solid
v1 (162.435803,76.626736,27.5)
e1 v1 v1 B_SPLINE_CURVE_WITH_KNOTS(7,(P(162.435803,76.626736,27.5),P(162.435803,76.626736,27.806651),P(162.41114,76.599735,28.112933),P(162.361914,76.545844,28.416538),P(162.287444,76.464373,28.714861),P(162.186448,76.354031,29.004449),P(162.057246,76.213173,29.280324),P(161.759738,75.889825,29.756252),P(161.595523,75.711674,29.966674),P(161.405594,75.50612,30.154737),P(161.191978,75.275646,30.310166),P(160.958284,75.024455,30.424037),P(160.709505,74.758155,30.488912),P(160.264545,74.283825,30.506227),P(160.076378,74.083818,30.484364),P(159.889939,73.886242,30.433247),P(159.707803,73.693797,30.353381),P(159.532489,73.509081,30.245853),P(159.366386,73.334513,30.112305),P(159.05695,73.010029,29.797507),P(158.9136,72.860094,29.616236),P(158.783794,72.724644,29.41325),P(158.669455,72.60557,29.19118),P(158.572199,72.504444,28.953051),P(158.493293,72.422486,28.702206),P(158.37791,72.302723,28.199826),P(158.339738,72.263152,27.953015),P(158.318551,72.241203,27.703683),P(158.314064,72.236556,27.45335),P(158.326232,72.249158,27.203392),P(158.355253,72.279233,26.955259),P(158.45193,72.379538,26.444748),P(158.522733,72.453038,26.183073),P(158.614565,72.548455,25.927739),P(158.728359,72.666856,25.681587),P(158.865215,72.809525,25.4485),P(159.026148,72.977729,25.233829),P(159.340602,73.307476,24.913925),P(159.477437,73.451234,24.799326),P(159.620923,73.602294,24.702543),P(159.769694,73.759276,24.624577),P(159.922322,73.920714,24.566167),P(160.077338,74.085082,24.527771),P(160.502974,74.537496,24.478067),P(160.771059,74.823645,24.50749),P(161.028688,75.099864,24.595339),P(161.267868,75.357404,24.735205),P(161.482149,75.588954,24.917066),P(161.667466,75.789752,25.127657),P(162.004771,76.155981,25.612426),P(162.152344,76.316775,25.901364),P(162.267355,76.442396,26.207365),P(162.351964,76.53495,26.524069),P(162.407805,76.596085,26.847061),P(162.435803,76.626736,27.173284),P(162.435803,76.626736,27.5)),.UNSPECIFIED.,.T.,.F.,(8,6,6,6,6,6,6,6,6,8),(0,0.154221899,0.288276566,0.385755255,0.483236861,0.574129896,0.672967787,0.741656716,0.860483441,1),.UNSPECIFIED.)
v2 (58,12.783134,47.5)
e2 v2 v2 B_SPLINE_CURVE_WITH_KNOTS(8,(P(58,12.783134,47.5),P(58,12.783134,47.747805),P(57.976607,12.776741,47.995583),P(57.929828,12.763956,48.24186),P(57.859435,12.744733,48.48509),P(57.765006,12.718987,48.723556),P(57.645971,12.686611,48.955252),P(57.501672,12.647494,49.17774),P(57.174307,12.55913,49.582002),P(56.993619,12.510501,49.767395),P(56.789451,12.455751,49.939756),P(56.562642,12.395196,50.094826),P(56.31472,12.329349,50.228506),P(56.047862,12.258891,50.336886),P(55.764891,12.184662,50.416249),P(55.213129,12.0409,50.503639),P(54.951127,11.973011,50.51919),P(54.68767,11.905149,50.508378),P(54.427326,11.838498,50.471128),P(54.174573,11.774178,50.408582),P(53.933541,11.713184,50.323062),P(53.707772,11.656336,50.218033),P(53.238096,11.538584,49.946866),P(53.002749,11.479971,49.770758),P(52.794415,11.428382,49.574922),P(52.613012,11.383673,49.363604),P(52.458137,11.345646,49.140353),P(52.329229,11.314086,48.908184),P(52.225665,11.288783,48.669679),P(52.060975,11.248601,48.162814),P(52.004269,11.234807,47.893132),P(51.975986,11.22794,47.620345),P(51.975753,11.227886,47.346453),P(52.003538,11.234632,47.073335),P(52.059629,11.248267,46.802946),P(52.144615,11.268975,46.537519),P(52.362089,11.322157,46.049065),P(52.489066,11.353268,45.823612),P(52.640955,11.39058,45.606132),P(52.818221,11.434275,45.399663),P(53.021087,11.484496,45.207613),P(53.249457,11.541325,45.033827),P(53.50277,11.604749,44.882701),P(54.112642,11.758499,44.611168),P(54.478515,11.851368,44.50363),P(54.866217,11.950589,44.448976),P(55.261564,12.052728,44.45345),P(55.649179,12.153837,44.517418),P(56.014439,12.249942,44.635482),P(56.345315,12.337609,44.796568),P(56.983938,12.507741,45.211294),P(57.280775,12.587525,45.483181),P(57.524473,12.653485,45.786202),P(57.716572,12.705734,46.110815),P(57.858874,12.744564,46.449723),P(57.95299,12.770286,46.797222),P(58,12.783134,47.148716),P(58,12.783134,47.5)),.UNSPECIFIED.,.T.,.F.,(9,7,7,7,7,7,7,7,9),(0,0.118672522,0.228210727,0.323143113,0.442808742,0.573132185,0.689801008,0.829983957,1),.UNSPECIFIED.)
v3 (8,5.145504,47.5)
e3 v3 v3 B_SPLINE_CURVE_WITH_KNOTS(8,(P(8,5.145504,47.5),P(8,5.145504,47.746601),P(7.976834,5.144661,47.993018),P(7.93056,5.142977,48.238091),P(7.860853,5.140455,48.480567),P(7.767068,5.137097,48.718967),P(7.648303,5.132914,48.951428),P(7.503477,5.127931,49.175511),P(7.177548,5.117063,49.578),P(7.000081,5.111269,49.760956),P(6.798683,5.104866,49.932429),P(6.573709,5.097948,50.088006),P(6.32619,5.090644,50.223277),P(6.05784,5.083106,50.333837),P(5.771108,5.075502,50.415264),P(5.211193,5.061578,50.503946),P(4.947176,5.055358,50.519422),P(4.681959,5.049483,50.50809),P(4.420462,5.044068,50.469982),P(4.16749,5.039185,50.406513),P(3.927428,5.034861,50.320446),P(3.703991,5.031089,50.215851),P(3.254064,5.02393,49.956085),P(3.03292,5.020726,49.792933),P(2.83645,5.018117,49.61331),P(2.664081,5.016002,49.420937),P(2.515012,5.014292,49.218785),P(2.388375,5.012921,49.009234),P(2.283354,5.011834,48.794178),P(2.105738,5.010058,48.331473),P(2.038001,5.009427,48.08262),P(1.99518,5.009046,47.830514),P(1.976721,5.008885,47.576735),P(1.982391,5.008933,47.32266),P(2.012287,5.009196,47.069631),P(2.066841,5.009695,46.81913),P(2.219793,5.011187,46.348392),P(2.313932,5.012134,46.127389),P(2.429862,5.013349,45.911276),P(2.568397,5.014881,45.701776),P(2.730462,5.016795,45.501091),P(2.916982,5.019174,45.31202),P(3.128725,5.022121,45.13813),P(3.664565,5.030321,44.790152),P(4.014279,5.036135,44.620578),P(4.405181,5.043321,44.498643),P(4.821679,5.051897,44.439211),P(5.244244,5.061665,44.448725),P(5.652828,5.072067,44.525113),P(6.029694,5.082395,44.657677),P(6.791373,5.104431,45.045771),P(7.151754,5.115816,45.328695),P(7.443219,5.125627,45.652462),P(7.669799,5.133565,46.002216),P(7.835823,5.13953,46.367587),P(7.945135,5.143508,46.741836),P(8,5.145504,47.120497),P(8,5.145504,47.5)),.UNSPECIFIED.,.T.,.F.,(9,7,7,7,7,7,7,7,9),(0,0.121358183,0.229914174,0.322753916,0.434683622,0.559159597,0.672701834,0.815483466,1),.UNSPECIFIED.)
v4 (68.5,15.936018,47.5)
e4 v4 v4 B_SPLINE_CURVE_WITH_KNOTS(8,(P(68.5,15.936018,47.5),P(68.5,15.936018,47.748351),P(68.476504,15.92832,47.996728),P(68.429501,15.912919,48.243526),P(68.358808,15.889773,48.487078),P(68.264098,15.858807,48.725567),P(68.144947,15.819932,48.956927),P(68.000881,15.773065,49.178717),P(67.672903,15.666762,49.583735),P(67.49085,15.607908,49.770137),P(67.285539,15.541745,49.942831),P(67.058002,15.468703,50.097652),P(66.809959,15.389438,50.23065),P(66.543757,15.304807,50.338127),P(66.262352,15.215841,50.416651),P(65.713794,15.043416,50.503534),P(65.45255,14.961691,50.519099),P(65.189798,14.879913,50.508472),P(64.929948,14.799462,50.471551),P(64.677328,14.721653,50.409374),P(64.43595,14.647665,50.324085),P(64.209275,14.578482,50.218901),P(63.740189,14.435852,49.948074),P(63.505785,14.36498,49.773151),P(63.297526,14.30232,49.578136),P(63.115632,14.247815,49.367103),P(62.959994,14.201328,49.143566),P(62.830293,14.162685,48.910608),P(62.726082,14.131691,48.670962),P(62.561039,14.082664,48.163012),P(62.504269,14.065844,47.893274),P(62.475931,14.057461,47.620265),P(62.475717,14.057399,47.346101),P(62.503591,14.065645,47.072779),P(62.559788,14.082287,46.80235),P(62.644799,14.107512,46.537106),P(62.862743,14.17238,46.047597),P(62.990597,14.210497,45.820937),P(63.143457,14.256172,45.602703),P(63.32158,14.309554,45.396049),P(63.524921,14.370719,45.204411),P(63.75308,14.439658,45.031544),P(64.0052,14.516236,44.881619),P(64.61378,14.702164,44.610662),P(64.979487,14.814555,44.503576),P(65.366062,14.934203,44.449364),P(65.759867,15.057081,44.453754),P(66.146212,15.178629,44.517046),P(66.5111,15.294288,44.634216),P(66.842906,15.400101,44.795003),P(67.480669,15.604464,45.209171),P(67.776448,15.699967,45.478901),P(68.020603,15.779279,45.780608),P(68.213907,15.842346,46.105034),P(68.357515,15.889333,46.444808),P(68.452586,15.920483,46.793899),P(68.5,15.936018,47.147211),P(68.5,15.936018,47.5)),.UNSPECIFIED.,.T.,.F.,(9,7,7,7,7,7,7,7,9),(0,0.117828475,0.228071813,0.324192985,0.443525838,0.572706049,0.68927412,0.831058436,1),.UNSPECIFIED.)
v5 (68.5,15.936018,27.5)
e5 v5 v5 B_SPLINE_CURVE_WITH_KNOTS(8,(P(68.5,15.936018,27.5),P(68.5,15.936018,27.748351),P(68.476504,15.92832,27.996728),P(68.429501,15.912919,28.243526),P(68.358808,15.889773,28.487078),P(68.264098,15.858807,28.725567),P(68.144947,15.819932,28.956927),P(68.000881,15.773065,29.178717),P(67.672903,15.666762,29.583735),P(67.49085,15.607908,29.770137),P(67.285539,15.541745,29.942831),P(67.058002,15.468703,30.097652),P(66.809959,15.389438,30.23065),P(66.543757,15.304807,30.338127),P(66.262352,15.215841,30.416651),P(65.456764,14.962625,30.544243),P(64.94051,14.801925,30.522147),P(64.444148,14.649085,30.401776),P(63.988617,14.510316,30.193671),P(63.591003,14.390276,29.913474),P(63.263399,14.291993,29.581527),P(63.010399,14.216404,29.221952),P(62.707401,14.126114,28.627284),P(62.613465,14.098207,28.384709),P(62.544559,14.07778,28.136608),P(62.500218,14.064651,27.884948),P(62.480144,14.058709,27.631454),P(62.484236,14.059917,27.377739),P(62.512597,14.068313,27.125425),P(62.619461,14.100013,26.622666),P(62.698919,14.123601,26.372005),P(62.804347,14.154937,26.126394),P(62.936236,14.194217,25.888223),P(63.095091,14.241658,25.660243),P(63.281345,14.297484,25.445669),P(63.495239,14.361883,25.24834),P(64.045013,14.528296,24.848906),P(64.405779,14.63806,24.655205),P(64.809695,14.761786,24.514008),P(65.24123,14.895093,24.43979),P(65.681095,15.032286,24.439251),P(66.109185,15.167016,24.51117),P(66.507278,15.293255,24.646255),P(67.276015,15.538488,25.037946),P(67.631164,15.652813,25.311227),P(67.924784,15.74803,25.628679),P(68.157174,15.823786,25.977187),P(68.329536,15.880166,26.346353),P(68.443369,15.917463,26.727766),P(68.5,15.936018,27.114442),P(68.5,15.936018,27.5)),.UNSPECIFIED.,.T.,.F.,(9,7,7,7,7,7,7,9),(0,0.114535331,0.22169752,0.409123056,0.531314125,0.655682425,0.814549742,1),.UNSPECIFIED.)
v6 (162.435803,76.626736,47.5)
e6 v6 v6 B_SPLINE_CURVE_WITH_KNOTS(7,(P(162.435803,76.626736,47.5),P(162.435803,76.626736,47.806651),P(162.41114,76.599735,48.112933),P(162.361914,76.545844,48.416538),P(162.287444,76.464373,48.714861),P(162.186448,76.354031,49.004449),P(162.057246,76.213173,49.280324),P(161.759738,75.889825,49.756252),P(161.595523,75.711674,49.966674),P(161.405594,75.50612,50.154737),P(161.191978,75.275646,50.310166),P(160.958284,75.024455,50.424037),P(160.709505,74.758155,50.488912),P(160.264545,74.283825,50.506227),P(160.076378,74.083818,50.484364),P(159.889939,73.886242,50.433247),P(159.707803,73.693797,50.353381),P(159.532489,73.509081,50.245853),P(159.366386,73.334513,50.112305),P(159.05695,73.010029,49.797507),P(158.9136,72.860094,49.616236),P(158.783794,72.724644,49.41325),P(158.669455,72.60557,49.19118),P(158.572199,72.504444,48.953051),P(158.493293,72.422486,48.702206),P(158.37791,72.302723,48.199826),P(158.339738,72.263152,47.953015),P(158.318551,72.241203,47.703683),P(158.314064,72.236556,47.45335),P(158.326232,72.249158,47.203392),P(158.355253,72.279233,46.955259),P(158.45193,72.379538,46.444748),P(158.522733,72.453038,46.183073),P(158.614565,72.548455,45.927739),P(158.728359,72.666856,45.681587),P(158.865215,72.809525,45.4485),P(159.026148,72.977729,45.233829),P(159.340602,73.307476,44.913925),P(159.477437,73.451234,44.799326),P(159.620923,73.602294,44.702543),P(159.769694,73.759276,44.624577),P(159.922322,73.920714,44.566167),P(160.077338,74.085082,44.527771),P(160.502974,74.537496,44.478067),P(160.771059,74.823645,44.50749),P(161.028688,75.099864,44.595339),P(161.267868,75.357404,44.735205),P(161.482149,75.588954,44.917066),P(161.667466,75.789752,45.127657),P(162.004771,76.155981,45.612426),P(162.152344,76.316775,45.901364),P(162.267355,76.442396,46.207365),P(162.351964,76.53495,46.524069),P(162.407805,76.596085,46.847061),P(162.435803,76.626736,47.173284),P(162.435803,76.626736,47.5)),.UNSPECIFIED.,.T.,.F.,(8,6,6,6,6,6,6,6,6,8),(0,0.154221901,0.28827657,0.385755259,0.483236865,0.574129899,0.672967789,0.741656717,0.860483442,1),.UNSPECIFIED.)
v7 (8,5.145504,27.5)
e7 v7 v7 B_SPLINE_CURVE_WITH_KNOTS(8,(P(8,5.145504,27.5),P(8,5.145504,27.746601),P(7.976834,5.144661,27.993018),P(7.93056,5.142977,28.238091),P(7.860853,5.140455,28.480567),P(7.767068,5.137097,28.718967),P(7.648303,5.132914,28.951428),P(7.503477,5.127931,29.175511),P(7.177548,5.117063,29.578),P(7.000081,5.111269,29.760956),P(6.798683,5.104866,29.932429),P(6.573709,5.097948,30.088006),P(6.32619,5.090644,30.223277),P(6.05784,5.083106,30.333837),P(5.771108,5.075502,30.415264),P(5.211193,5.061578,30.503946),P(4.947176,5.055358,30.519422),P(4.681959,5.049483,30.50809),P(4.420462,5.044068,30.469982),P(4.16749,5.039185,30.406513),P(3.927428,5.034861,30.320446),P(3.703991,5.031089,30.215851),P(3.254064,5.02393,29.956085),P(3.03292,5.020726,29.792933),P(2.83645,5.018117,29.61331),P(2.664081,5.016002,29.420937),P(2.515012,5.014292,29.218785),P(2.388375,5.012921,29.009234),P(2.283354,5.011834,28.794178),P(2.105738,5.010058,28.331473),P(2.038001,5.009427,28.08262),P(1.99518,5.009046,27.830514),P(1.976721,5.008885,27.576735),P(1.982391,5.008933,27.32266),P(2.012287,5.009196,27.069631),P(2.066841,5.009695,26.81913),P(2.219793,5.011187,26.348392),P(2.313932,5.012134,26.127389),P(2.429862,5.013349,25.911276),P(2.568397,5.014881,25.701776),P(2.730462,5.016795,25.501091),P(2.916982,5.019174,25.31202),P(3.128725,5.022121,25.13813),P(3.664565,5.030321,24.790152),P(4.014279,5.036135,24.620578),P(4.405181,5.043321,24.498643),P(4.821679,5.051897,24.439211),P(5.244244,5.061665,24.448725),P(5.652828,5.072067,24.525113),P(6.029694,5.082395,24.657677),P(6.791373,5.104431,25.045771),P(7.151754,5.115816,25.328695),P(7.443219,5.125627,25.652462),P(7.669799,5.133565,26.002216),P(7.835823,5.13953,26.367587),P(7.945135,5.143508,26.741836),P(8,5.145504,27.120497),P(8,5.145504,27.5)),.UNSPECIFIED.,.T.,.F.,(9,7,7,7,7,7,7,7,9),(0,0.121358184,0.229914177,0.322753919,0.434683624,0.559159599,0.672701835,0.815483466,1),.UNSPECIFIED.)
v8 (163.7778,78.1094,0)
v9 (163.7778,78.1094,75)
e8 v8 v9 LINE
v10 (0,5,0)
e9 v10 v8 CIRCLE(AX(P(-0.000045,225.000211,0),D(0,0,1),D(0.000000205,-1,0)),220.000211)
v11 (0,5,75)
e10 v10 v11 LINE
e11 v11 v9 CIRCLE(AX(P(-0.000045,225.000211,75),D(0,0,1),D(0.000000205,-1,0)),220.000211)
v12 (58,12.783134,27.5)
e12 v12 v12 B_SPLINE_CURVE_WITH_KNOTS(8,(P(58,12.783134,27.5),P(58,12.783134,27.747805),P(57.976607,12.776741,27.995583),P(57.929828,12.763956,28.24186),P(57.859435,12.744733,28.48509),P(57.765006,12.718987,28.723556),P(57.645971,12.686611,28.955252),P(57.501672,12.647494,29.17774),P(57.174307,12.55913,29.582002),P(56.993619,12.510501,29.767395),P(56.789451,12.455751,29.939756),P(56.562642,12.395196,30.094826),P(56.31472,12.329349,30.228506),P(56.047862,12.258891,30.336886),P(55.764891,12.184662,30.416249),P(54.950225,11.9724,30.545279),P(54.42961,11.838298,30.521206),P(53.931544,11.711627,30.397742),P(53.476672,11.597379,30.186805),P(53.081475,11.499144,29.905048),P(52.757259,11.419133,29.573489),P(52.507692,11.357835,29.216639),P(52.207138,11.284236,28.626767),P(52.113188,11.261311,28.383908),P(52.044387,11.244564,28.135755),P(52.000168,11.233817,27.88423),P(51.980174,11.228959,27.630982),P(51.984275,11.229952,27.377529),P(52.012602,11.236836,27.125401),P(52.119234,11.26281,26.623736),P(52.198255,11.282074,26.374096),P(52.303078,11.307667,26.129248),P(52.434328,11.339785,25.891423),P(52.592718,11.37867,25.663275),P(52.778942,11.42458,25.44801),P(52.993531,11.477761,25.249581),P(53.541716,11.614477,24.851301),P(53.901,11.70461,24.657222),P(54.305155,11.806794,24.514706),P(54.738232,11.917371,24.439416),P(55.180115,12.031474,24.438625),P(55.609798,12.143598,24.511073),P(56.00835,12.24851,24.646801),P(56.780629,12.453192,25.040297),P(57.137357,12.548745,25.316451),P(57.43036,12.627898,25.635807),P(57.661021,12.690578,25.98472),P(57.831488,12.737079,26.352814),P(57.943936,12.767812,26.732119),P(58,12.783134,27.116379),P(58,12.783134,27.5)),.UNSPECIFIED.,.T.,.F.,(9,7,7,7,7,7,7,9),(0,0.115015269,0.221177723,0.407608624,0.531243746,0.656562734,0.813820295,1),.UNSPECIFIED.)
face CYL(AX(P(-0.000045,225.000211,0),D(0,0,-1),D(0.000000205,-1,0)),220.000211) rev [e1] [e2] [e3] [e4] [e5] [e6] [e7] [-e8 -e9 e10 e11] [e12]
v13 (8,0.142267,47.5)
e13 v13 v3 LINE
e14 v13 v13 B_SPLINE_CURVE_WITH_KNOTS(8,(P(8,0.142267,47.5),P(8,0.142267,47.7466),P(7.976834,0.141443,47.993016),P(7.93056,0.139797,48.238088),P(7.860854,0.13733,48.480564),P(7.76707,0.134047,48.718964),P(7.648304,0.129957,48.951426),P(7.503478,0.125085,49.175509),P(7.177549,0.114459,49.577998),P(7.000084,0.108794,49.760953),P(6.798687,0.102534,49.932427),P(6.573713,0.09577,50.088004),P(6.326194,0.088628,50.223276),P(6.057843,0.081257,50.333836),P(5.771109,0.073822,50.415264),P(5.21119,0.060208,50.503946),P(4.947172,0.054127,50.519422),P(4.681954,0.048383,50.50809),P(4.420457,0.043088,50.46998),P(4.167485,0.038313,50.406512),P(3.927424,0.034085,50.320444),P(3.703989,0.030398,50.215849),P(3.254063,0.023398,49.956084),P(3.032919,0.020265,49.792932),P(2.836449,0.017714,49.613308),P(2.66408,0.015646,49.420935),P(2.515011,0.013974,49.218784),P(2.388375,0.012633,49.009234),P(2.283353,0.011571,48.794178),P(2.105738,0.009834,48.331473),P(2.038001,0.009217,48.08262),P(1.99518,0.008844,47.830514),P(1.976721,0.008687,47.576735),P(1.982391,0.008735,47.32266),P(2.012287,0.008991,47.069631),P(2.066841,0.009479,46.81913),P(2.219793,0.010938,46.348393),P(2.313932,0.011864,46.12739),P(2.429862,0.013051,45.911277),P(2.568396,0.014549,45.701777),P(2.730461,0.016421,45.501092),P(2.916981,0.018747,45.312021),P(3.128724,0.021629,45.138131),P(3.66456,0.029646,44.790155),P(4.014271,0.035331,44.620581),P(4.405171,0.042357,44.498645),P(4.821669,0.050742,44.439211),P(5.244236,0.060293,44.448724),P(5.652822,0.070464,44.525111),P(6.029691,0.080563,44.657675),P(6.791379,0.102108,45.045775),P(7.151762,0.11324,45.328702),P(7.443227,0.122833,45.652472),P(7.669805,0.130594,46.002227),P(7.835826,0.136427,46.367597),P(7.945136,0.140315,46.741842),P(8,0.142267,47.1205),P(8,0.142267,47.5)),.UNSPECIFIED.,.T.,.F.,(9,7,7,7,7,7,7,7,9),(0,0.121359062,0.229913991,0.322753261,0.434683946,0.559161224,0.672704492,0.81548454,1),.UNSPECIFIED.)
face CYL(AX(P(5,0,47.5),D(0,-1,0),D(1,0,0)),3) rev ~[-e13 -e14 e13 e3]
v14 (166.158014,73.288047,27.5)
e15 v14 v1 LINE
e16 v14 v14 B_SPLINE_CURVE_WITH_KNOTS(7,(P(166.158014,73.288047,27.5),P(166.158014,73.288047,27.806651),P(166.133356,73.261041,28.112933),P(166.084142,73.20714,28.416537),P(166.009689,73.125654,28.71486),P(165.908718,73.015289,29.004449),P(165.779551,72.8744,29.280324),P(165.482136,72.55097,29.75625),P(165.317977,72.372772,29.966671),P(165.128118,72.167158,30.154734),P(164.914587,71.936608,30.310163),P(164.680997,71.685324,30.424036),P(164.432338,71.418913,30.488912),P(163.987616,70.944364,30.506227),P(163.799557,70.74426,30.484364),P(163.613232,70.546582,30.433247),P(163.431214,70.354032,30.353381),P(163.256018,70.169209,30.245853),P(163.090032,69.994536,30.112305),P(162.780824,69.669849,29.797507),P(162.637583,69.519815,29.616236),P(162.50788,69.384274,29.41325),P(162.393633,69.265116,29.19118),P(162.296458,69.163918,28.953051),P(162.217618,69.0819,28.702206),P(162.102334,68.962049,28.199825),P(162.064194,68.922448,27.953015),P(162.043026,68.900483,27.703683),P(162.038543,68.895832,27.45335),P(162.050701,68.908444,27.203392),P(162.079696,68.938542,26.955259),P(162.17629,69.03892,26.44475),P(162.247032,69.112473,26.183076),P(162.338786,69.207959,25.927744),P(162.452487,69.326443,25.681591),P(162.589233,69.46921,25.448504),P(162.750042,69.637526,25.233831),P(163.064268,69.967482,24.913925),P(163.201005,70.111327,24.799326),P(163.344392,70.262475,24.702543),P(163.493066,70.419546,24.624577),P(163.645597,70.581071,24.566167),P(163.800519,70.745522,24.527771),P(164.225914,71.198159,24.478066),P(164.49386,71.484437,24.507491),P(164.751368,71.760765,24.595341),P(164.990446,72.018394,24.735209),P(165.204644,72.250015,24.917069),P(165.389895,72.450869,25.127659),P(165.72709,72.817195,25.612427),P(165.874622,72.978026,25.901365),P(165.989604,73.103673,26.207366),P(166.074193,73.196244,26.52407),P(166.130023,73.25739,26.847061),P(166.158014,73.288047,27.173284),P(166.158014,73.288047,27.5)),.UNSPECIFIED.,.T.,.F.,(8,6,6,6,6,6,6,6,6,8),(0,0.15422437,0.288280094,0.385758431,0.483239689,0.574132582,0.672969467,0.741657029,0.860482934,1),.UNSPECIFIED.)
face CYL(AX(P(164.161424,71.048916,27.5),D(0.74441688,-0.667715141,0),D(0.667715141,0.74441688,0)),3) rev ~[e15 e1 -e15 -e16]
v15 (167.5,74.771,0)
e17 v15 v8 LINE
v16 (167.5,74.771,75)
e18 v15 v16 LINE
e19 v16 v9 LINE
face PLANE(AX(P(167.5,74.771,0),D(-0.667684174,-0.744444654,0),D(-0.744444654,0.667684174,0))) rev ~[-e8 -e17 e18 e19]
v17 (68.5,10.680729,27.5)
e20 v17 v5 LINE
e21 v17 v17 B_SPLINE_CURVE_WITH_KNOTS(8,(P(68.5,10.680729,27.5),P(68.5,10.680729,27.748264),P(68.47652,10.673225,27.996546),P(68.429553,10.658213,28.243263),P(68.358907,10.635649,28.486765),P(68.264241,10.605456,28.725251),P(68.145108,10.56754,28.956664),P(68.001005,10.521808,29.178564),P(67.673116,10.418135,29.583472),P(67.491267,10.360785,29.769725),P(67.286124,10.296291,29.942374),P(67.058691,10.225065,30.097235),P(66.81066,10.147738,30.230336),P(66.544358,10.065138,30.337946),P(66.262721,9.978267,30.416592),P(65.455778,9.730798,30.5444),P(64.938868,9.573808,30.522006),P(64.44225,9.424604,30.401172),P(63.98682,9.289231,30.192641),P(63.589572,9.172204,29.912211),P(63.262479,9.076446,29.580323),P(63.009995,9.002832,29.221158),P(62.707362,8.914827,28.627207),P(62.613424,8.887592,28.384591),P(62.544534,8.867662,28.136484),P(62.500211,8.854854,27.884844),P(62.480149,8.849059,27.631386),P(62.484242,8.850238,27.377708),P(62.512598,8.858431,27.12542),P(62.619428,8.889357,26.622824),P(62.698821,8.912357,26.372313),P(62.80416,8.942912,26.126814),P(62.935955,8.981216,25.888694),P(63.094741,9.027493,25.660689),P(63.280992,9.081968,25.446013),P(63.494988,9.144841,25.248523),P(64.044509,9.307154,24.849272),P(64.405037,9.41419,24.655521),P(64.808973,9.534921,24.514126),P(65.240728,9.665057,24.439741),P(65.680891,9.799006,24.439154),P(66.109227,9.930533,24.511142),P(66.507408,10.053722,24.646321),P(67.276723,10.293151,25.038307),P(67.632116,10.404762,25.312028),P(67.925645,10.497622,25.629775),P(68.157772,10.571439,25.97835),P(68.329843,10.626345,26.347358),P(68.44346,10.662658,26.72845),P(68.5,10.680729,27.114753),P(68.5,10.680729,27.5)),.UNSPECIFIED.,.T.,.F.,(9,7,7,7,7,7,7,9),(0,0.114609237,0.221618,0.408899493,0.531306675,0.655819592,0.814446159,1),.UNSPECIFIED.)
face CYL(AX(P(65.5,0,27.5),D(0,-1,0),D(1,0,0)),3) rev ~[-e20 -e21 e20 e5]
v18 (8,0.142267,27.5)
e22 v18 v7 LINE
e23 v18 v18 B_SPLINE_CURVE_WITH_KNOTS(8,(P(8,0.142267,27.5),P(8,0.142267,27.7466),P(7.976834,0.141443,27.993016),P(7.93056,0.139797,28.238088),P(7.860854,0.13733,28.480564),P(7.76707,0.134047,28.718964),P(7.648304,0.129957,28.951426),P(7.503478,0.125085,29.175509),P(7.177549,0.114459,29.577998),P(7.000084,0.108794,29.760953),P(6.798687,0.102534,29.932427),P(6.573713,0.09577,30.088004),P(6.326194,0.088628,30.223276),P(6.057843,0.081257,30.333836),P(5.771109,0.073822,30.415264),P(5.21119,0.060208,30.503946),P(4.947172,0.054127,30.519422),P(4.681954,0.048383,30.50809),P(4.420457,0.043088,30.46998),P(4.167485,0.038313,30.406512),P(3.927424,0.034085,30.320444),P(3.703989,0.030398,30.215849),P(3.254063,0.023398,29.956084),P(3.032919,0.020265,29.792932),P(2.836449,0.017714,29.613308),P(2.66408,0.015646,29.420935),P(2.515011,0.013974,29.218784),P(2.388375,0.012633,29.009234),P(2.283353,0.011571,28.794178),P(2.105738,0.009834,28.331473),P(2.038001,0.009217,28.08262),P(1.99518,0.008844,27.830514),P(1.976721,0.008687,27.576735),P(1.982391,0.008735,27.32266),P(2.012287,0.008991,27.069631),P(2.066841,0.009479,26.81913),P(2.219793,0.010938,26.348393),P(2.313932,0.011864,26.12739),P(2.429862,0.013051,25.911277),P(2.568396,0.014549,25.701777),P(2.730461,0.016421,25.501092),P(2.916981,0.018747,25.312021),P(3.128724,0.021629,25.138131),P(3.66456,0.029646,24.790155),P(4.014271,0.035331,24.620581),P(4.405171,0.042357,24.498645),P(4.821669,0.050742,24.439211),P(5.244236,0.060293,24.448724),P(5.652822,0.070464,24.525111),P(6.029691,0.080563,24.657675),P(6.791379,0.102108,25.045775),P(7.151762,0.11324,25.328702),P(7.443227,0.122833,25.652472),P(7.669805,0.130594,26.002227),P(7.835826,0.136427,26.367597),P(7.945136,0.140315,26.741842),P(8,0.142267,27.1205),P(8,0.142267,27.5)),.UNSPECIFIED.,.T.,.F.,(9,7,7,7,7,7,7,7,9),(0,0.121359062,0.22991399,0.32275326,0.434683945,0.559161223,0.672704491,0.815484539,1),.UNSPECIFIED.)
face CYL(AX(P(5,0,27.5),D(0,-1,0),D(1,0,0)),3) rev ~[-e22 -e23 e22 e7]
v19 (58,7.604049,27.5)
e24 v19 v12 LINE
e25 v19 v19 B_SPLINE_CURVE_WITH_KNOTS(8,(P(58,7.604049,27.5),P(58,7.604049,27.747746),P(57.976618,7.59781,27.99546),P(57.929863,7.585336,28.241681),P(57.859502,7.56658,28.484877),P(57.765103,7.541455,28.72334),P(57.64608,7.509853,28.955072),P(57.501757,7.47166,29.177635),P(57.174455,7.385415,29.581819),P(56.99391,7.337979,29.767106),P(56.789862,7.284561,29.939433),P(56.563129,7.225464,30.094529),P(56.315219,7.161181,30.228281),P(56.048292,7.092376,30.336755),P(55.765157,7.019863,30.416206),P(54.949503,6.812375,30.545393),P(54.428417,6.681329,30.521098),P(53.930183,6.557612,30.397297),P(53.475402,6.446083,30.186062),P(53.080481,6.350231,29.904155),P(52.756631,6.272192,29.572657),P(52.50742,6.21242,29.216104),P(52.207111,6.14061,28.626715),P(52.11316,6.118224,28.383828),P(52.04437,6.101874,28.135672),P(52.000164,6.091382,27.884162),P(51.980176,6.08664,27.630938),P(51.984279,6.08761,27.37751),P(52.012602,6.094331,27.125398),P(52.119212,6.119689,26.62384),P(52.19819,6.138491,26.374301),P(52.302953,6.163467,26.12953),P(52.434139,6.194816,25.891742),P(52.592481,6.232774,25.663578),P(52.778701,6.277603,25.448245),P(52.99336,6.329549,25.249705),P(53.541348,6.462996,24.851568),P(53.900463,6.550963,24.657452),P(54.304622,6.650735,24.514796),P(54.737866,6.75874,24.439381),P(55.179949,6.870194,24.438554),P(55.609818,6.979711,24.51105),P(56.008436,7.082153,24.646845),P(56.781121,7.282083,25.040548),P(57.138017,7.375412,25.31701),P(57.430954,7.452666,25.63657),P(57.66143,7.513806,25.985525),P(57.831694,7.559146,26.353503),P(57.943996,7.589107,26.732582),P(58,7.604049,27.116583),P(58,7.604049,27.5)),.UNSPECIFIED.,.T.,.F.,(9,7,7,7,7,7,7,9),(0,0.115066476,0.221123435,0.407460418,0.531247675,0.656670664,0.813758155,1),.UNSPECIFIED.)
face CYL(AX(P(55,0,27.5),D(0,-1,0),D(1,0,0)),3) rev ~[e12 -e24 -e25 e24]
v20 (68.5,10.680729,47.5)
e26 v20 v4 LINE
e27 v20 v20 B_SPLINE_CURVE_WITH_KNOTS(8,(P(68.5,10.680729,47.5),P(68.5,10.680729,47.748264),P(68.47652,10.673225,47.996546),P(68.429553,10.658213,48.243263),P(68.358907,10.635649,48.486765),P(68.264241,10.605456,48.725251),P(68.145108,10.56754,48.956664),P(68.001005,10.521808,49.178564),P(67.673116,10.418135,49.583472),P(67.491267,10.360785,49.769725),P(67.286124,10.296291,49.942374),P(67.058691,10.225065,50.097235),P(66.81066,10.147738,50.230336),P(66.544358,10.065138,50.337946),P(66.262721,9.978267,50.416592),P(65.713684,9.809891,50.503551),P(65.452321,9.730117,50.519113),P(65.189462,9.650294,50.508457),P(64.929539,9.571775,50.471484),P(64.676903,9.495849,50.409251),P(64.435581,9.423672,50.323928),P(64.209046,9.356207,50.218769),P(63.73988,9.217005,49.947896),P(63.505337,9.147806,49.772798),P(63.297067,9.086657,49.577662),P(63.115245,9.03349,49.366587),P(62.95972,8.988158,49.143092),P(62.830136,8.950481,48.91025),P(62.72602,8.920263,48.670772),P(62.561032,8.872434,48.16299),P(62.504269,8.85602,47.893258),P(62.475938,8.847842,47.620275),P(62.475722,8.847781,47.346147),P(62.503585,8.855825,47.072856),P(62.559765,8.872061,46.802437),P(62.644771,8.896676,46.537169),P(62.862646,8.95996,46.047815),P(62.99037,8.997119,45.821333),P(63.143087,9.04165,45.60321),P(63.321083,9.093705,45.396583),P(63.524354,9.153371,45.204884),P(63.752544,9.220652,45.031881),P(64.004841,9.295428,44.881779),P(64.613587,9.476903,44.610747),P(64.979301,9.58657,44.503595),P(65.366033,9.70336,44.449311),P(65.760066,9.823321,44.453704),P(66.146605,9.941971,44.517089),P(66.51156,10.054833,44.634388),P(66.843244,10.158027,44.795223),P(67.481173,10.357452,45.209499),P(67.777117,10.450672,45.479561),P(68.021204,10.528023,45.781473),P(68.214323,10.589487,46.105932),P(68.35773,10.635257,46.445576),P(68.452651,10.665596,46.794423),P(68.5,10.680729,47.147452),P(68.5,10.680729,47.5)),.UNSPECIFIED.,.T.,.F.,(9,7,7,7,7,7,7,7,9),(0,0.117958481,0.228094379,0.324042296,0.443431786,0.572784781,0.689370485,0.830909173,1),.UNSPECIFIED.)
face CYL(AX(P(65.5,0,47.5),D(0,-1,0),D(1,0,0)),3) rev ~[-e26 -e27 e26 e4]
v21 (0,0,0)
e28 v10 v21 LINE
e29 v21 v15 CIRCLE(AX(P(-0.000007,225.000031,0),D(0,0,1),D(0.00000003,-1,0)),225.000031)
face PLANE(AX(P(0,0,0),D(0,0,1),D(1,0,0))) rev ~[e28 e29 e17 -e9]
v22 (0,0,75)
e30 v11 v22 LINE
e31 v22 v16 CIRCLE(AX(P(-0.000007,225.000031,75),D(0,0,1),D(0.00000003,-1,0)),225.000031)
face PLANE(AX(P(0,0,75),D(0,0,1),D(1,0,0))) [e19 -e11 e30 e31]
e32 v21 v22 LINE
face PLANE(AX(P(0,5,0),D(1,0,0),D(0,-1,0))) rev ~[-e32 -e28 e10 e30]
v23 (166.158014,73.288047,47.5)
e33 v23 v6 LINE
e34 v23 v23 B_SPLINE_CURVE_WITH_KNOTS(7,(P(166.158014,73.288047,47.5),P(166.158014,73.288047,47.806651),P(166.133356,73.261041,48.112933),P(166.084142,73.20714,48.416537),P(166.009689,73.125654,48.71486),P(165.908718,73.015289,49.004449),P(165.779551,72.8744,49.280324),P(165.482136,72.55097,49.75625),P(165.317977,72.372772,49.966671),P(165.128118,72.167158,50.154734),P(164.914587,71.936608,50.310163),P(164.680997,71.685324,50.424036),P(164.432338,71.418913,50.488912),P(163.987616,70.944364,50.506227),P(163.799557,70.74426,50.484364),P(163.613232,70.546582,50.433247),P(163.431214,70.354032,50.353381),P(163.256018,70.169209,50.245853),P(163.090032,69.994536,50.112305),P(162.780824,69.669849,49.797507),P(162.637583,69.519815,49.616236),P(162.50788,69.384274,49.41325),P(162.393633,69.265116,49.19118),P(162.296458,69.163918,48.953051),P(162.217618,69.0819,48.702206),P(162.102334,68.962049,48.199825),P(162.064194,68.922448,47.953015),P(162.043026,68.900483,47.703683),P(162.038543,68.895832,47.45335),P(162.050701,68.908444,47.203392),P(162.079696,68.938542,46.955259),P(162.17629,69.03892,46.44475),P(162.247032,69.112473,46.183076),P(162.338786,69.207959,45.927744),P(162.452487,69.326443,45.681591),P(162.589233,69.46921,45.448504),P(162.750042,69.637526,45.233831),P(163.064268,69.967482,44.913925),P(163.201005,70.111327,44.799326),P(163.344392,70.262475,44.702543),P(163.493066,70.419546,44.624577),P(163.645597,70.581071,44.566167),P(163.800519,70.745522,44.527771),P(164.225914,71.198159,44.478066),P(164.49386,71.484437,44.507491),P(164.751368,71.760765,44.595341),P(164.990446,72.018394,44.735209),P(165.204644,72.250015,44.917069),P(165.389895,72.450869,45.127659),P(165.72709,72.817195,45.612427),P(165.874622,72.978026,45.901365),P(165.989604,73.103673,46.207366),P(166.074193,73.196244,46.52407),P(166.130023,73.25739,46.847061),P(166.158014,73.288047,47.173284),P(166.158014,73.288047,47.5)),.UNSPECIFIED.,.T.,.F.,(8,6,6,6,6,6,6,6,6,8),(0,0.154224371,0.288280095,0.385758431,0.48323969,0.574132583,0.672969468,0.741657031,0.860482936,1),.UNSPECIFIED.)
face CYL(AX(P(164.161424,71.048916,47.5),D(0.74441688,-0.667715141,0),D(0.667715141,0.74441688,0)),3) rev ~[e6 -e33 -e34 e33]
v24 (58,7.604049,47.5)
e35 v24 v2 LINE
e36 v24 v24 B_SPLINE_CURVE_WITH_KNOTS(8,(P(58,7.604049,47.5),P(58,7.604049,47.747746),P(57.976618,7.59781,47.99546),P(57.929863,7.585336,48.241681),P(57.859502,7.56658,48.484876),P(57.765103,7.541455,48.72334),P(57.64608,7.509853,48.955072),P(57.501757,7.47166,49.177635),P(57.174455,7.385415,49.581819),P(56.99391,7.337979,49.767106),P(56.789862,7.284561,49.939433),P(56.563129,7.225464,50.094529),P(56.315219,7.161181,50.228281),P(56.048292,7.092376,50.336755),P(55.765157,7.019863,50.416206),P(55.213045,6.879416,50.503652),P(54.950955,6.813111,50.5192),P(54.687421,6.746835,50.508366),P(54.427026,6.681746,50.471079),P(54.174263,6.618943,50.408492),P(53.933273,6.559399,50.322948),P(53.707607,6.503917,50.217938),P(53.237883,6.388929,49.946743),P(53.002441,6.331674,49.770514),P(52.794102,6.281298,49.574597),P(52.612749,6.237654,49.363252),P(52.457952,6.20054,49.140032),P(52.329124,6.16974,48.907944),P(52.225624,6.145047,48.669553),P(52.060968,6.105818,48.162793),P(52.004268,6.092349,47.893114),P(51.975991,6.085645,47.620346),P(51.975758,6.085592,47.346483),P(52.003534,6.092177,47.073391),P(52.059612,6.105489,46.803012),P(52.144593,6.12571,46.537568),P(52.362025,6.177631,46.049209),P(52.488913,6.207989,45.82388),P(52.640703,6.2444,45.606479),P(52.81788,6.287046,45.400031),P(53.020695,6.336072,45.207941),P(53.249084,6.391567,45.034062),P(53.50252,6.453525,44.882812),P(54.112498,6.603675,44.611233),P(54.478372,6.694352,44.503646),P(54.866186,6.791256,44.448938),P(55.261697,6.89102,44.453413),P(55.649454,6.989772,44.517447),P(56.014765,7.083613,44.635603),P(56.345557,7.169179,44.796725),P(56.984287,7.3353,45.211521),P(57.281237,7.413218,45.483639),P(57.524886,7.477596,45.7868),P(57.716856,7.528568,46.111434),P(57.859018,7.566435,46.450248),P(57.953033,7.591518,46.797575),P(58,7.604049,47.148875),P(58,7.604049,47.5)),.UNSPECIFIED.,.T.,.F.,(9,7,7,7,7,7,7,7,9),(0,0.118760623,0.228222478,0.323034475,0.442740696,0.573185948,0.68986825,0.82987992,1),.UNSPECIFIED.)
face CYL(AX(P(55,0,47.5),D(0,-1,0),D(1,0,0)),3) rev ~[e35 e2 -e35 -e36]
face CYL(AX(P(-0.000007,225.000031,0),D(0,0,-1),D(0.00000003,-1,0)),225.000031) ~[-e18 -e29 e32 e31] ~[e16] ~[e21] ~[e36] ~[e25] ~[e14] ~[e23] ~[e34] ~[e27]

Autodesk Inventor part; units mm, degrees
ref_plane "YZ Plane" through (0, 0, 0) normal (1, 0, 0) x (0, 1, 0)
sketch "Sketch1" plane through (0, 0, 0) normal (0, 0, 1) x (1, 0, 0)
  circle A0 centre (0, 225) radius 225 construction
  circle A1 centre (0, 225) radius 220 construction
  line L0 (0, 5) -> (0, 0)
  arc A2 (0, 0) -> (167.5, 74.771) centre (0, 225) ccw
  line L1 (167.5, 74.771) -> (163.7778, 78.1094)
  arc A3 (0, 5) -> (163.7778, 78.1094) centre (0, 225) ccw
  dimension "d0" = 450
  dimension "d1" = 5
  dimension "d2" = 5
  dimension "d3" = 167.5
extrude "Extrusion1" add sketch "Sketch1" along normal blind 75
ref_plane "Work Plane1" through (167.5, 74.771, 0) normal (0.7444, -0.6677, 0) x (0.6677, 0.7444, 0)
sketch "Sketch2" plane through (167.5, 74.771, 0) normal (0.7444, -0.6677, 0) x (0.6677, 0.7444, 0)
  circle A0 centre (-5, 47.5) radius 3
  circle A1 centre (-5, 27.5) radius 3
  line L0 (0, 0) -> (-167.5, 0) projected
  line L1 (0, 0) -> (0, 75) projected
  line L2 (-167.5, 75) -> (0, 75) projected
  line L3 (-167.5, 0) -> (-167.5, 75) projected
  dimension "d6" = 6
  dimension "d7" = 6
  dimension "d8" = 5
  dimension "d9" = 27.5
  dimension "d10" = 20
extrude "Extrusion2" cut sketch "Sketch2" along normal through all both and the other way through all contours A0 | A1
ref_plane "Work Plane2" through (0, 0, 0) normal (0, -1, 0) x (1, 0, 0)
sketch "Sketch3" plane through (0, 0, 0) normal (0, -1, 0) x (1, 0, 0)
  circle A0 centre (5, 47.5) radius 3
  circle A1 centre (5, 27.5) radius 3
  circle A2 centre (55, 47.5) radius 3
  circle A3 centre (55, 27.5) radius 3
  circle A4 centre (65.5, 47.5) radius 3
  circle A5 centre (65.5, 27.5) radius 3
  point P0 (0, 0)
  dimension "d13" = 6
  dimension "d14" = 6
  dimension "d15" = 6
  dimension "d16" = 6
  dimension "d17" = 27.5
  dimension "d18" = 20
  dimension "d19" = 5
  dimension "d20" = 55
  dimension "d23" = 6
  dimension "d24" = 6
  dimension "d25" = 10.5
extrude "Extrusion3" cut sketch "Sketch3" along normal through all both and the other way through all
properties part number "CW004" material "ABS Plastic"
